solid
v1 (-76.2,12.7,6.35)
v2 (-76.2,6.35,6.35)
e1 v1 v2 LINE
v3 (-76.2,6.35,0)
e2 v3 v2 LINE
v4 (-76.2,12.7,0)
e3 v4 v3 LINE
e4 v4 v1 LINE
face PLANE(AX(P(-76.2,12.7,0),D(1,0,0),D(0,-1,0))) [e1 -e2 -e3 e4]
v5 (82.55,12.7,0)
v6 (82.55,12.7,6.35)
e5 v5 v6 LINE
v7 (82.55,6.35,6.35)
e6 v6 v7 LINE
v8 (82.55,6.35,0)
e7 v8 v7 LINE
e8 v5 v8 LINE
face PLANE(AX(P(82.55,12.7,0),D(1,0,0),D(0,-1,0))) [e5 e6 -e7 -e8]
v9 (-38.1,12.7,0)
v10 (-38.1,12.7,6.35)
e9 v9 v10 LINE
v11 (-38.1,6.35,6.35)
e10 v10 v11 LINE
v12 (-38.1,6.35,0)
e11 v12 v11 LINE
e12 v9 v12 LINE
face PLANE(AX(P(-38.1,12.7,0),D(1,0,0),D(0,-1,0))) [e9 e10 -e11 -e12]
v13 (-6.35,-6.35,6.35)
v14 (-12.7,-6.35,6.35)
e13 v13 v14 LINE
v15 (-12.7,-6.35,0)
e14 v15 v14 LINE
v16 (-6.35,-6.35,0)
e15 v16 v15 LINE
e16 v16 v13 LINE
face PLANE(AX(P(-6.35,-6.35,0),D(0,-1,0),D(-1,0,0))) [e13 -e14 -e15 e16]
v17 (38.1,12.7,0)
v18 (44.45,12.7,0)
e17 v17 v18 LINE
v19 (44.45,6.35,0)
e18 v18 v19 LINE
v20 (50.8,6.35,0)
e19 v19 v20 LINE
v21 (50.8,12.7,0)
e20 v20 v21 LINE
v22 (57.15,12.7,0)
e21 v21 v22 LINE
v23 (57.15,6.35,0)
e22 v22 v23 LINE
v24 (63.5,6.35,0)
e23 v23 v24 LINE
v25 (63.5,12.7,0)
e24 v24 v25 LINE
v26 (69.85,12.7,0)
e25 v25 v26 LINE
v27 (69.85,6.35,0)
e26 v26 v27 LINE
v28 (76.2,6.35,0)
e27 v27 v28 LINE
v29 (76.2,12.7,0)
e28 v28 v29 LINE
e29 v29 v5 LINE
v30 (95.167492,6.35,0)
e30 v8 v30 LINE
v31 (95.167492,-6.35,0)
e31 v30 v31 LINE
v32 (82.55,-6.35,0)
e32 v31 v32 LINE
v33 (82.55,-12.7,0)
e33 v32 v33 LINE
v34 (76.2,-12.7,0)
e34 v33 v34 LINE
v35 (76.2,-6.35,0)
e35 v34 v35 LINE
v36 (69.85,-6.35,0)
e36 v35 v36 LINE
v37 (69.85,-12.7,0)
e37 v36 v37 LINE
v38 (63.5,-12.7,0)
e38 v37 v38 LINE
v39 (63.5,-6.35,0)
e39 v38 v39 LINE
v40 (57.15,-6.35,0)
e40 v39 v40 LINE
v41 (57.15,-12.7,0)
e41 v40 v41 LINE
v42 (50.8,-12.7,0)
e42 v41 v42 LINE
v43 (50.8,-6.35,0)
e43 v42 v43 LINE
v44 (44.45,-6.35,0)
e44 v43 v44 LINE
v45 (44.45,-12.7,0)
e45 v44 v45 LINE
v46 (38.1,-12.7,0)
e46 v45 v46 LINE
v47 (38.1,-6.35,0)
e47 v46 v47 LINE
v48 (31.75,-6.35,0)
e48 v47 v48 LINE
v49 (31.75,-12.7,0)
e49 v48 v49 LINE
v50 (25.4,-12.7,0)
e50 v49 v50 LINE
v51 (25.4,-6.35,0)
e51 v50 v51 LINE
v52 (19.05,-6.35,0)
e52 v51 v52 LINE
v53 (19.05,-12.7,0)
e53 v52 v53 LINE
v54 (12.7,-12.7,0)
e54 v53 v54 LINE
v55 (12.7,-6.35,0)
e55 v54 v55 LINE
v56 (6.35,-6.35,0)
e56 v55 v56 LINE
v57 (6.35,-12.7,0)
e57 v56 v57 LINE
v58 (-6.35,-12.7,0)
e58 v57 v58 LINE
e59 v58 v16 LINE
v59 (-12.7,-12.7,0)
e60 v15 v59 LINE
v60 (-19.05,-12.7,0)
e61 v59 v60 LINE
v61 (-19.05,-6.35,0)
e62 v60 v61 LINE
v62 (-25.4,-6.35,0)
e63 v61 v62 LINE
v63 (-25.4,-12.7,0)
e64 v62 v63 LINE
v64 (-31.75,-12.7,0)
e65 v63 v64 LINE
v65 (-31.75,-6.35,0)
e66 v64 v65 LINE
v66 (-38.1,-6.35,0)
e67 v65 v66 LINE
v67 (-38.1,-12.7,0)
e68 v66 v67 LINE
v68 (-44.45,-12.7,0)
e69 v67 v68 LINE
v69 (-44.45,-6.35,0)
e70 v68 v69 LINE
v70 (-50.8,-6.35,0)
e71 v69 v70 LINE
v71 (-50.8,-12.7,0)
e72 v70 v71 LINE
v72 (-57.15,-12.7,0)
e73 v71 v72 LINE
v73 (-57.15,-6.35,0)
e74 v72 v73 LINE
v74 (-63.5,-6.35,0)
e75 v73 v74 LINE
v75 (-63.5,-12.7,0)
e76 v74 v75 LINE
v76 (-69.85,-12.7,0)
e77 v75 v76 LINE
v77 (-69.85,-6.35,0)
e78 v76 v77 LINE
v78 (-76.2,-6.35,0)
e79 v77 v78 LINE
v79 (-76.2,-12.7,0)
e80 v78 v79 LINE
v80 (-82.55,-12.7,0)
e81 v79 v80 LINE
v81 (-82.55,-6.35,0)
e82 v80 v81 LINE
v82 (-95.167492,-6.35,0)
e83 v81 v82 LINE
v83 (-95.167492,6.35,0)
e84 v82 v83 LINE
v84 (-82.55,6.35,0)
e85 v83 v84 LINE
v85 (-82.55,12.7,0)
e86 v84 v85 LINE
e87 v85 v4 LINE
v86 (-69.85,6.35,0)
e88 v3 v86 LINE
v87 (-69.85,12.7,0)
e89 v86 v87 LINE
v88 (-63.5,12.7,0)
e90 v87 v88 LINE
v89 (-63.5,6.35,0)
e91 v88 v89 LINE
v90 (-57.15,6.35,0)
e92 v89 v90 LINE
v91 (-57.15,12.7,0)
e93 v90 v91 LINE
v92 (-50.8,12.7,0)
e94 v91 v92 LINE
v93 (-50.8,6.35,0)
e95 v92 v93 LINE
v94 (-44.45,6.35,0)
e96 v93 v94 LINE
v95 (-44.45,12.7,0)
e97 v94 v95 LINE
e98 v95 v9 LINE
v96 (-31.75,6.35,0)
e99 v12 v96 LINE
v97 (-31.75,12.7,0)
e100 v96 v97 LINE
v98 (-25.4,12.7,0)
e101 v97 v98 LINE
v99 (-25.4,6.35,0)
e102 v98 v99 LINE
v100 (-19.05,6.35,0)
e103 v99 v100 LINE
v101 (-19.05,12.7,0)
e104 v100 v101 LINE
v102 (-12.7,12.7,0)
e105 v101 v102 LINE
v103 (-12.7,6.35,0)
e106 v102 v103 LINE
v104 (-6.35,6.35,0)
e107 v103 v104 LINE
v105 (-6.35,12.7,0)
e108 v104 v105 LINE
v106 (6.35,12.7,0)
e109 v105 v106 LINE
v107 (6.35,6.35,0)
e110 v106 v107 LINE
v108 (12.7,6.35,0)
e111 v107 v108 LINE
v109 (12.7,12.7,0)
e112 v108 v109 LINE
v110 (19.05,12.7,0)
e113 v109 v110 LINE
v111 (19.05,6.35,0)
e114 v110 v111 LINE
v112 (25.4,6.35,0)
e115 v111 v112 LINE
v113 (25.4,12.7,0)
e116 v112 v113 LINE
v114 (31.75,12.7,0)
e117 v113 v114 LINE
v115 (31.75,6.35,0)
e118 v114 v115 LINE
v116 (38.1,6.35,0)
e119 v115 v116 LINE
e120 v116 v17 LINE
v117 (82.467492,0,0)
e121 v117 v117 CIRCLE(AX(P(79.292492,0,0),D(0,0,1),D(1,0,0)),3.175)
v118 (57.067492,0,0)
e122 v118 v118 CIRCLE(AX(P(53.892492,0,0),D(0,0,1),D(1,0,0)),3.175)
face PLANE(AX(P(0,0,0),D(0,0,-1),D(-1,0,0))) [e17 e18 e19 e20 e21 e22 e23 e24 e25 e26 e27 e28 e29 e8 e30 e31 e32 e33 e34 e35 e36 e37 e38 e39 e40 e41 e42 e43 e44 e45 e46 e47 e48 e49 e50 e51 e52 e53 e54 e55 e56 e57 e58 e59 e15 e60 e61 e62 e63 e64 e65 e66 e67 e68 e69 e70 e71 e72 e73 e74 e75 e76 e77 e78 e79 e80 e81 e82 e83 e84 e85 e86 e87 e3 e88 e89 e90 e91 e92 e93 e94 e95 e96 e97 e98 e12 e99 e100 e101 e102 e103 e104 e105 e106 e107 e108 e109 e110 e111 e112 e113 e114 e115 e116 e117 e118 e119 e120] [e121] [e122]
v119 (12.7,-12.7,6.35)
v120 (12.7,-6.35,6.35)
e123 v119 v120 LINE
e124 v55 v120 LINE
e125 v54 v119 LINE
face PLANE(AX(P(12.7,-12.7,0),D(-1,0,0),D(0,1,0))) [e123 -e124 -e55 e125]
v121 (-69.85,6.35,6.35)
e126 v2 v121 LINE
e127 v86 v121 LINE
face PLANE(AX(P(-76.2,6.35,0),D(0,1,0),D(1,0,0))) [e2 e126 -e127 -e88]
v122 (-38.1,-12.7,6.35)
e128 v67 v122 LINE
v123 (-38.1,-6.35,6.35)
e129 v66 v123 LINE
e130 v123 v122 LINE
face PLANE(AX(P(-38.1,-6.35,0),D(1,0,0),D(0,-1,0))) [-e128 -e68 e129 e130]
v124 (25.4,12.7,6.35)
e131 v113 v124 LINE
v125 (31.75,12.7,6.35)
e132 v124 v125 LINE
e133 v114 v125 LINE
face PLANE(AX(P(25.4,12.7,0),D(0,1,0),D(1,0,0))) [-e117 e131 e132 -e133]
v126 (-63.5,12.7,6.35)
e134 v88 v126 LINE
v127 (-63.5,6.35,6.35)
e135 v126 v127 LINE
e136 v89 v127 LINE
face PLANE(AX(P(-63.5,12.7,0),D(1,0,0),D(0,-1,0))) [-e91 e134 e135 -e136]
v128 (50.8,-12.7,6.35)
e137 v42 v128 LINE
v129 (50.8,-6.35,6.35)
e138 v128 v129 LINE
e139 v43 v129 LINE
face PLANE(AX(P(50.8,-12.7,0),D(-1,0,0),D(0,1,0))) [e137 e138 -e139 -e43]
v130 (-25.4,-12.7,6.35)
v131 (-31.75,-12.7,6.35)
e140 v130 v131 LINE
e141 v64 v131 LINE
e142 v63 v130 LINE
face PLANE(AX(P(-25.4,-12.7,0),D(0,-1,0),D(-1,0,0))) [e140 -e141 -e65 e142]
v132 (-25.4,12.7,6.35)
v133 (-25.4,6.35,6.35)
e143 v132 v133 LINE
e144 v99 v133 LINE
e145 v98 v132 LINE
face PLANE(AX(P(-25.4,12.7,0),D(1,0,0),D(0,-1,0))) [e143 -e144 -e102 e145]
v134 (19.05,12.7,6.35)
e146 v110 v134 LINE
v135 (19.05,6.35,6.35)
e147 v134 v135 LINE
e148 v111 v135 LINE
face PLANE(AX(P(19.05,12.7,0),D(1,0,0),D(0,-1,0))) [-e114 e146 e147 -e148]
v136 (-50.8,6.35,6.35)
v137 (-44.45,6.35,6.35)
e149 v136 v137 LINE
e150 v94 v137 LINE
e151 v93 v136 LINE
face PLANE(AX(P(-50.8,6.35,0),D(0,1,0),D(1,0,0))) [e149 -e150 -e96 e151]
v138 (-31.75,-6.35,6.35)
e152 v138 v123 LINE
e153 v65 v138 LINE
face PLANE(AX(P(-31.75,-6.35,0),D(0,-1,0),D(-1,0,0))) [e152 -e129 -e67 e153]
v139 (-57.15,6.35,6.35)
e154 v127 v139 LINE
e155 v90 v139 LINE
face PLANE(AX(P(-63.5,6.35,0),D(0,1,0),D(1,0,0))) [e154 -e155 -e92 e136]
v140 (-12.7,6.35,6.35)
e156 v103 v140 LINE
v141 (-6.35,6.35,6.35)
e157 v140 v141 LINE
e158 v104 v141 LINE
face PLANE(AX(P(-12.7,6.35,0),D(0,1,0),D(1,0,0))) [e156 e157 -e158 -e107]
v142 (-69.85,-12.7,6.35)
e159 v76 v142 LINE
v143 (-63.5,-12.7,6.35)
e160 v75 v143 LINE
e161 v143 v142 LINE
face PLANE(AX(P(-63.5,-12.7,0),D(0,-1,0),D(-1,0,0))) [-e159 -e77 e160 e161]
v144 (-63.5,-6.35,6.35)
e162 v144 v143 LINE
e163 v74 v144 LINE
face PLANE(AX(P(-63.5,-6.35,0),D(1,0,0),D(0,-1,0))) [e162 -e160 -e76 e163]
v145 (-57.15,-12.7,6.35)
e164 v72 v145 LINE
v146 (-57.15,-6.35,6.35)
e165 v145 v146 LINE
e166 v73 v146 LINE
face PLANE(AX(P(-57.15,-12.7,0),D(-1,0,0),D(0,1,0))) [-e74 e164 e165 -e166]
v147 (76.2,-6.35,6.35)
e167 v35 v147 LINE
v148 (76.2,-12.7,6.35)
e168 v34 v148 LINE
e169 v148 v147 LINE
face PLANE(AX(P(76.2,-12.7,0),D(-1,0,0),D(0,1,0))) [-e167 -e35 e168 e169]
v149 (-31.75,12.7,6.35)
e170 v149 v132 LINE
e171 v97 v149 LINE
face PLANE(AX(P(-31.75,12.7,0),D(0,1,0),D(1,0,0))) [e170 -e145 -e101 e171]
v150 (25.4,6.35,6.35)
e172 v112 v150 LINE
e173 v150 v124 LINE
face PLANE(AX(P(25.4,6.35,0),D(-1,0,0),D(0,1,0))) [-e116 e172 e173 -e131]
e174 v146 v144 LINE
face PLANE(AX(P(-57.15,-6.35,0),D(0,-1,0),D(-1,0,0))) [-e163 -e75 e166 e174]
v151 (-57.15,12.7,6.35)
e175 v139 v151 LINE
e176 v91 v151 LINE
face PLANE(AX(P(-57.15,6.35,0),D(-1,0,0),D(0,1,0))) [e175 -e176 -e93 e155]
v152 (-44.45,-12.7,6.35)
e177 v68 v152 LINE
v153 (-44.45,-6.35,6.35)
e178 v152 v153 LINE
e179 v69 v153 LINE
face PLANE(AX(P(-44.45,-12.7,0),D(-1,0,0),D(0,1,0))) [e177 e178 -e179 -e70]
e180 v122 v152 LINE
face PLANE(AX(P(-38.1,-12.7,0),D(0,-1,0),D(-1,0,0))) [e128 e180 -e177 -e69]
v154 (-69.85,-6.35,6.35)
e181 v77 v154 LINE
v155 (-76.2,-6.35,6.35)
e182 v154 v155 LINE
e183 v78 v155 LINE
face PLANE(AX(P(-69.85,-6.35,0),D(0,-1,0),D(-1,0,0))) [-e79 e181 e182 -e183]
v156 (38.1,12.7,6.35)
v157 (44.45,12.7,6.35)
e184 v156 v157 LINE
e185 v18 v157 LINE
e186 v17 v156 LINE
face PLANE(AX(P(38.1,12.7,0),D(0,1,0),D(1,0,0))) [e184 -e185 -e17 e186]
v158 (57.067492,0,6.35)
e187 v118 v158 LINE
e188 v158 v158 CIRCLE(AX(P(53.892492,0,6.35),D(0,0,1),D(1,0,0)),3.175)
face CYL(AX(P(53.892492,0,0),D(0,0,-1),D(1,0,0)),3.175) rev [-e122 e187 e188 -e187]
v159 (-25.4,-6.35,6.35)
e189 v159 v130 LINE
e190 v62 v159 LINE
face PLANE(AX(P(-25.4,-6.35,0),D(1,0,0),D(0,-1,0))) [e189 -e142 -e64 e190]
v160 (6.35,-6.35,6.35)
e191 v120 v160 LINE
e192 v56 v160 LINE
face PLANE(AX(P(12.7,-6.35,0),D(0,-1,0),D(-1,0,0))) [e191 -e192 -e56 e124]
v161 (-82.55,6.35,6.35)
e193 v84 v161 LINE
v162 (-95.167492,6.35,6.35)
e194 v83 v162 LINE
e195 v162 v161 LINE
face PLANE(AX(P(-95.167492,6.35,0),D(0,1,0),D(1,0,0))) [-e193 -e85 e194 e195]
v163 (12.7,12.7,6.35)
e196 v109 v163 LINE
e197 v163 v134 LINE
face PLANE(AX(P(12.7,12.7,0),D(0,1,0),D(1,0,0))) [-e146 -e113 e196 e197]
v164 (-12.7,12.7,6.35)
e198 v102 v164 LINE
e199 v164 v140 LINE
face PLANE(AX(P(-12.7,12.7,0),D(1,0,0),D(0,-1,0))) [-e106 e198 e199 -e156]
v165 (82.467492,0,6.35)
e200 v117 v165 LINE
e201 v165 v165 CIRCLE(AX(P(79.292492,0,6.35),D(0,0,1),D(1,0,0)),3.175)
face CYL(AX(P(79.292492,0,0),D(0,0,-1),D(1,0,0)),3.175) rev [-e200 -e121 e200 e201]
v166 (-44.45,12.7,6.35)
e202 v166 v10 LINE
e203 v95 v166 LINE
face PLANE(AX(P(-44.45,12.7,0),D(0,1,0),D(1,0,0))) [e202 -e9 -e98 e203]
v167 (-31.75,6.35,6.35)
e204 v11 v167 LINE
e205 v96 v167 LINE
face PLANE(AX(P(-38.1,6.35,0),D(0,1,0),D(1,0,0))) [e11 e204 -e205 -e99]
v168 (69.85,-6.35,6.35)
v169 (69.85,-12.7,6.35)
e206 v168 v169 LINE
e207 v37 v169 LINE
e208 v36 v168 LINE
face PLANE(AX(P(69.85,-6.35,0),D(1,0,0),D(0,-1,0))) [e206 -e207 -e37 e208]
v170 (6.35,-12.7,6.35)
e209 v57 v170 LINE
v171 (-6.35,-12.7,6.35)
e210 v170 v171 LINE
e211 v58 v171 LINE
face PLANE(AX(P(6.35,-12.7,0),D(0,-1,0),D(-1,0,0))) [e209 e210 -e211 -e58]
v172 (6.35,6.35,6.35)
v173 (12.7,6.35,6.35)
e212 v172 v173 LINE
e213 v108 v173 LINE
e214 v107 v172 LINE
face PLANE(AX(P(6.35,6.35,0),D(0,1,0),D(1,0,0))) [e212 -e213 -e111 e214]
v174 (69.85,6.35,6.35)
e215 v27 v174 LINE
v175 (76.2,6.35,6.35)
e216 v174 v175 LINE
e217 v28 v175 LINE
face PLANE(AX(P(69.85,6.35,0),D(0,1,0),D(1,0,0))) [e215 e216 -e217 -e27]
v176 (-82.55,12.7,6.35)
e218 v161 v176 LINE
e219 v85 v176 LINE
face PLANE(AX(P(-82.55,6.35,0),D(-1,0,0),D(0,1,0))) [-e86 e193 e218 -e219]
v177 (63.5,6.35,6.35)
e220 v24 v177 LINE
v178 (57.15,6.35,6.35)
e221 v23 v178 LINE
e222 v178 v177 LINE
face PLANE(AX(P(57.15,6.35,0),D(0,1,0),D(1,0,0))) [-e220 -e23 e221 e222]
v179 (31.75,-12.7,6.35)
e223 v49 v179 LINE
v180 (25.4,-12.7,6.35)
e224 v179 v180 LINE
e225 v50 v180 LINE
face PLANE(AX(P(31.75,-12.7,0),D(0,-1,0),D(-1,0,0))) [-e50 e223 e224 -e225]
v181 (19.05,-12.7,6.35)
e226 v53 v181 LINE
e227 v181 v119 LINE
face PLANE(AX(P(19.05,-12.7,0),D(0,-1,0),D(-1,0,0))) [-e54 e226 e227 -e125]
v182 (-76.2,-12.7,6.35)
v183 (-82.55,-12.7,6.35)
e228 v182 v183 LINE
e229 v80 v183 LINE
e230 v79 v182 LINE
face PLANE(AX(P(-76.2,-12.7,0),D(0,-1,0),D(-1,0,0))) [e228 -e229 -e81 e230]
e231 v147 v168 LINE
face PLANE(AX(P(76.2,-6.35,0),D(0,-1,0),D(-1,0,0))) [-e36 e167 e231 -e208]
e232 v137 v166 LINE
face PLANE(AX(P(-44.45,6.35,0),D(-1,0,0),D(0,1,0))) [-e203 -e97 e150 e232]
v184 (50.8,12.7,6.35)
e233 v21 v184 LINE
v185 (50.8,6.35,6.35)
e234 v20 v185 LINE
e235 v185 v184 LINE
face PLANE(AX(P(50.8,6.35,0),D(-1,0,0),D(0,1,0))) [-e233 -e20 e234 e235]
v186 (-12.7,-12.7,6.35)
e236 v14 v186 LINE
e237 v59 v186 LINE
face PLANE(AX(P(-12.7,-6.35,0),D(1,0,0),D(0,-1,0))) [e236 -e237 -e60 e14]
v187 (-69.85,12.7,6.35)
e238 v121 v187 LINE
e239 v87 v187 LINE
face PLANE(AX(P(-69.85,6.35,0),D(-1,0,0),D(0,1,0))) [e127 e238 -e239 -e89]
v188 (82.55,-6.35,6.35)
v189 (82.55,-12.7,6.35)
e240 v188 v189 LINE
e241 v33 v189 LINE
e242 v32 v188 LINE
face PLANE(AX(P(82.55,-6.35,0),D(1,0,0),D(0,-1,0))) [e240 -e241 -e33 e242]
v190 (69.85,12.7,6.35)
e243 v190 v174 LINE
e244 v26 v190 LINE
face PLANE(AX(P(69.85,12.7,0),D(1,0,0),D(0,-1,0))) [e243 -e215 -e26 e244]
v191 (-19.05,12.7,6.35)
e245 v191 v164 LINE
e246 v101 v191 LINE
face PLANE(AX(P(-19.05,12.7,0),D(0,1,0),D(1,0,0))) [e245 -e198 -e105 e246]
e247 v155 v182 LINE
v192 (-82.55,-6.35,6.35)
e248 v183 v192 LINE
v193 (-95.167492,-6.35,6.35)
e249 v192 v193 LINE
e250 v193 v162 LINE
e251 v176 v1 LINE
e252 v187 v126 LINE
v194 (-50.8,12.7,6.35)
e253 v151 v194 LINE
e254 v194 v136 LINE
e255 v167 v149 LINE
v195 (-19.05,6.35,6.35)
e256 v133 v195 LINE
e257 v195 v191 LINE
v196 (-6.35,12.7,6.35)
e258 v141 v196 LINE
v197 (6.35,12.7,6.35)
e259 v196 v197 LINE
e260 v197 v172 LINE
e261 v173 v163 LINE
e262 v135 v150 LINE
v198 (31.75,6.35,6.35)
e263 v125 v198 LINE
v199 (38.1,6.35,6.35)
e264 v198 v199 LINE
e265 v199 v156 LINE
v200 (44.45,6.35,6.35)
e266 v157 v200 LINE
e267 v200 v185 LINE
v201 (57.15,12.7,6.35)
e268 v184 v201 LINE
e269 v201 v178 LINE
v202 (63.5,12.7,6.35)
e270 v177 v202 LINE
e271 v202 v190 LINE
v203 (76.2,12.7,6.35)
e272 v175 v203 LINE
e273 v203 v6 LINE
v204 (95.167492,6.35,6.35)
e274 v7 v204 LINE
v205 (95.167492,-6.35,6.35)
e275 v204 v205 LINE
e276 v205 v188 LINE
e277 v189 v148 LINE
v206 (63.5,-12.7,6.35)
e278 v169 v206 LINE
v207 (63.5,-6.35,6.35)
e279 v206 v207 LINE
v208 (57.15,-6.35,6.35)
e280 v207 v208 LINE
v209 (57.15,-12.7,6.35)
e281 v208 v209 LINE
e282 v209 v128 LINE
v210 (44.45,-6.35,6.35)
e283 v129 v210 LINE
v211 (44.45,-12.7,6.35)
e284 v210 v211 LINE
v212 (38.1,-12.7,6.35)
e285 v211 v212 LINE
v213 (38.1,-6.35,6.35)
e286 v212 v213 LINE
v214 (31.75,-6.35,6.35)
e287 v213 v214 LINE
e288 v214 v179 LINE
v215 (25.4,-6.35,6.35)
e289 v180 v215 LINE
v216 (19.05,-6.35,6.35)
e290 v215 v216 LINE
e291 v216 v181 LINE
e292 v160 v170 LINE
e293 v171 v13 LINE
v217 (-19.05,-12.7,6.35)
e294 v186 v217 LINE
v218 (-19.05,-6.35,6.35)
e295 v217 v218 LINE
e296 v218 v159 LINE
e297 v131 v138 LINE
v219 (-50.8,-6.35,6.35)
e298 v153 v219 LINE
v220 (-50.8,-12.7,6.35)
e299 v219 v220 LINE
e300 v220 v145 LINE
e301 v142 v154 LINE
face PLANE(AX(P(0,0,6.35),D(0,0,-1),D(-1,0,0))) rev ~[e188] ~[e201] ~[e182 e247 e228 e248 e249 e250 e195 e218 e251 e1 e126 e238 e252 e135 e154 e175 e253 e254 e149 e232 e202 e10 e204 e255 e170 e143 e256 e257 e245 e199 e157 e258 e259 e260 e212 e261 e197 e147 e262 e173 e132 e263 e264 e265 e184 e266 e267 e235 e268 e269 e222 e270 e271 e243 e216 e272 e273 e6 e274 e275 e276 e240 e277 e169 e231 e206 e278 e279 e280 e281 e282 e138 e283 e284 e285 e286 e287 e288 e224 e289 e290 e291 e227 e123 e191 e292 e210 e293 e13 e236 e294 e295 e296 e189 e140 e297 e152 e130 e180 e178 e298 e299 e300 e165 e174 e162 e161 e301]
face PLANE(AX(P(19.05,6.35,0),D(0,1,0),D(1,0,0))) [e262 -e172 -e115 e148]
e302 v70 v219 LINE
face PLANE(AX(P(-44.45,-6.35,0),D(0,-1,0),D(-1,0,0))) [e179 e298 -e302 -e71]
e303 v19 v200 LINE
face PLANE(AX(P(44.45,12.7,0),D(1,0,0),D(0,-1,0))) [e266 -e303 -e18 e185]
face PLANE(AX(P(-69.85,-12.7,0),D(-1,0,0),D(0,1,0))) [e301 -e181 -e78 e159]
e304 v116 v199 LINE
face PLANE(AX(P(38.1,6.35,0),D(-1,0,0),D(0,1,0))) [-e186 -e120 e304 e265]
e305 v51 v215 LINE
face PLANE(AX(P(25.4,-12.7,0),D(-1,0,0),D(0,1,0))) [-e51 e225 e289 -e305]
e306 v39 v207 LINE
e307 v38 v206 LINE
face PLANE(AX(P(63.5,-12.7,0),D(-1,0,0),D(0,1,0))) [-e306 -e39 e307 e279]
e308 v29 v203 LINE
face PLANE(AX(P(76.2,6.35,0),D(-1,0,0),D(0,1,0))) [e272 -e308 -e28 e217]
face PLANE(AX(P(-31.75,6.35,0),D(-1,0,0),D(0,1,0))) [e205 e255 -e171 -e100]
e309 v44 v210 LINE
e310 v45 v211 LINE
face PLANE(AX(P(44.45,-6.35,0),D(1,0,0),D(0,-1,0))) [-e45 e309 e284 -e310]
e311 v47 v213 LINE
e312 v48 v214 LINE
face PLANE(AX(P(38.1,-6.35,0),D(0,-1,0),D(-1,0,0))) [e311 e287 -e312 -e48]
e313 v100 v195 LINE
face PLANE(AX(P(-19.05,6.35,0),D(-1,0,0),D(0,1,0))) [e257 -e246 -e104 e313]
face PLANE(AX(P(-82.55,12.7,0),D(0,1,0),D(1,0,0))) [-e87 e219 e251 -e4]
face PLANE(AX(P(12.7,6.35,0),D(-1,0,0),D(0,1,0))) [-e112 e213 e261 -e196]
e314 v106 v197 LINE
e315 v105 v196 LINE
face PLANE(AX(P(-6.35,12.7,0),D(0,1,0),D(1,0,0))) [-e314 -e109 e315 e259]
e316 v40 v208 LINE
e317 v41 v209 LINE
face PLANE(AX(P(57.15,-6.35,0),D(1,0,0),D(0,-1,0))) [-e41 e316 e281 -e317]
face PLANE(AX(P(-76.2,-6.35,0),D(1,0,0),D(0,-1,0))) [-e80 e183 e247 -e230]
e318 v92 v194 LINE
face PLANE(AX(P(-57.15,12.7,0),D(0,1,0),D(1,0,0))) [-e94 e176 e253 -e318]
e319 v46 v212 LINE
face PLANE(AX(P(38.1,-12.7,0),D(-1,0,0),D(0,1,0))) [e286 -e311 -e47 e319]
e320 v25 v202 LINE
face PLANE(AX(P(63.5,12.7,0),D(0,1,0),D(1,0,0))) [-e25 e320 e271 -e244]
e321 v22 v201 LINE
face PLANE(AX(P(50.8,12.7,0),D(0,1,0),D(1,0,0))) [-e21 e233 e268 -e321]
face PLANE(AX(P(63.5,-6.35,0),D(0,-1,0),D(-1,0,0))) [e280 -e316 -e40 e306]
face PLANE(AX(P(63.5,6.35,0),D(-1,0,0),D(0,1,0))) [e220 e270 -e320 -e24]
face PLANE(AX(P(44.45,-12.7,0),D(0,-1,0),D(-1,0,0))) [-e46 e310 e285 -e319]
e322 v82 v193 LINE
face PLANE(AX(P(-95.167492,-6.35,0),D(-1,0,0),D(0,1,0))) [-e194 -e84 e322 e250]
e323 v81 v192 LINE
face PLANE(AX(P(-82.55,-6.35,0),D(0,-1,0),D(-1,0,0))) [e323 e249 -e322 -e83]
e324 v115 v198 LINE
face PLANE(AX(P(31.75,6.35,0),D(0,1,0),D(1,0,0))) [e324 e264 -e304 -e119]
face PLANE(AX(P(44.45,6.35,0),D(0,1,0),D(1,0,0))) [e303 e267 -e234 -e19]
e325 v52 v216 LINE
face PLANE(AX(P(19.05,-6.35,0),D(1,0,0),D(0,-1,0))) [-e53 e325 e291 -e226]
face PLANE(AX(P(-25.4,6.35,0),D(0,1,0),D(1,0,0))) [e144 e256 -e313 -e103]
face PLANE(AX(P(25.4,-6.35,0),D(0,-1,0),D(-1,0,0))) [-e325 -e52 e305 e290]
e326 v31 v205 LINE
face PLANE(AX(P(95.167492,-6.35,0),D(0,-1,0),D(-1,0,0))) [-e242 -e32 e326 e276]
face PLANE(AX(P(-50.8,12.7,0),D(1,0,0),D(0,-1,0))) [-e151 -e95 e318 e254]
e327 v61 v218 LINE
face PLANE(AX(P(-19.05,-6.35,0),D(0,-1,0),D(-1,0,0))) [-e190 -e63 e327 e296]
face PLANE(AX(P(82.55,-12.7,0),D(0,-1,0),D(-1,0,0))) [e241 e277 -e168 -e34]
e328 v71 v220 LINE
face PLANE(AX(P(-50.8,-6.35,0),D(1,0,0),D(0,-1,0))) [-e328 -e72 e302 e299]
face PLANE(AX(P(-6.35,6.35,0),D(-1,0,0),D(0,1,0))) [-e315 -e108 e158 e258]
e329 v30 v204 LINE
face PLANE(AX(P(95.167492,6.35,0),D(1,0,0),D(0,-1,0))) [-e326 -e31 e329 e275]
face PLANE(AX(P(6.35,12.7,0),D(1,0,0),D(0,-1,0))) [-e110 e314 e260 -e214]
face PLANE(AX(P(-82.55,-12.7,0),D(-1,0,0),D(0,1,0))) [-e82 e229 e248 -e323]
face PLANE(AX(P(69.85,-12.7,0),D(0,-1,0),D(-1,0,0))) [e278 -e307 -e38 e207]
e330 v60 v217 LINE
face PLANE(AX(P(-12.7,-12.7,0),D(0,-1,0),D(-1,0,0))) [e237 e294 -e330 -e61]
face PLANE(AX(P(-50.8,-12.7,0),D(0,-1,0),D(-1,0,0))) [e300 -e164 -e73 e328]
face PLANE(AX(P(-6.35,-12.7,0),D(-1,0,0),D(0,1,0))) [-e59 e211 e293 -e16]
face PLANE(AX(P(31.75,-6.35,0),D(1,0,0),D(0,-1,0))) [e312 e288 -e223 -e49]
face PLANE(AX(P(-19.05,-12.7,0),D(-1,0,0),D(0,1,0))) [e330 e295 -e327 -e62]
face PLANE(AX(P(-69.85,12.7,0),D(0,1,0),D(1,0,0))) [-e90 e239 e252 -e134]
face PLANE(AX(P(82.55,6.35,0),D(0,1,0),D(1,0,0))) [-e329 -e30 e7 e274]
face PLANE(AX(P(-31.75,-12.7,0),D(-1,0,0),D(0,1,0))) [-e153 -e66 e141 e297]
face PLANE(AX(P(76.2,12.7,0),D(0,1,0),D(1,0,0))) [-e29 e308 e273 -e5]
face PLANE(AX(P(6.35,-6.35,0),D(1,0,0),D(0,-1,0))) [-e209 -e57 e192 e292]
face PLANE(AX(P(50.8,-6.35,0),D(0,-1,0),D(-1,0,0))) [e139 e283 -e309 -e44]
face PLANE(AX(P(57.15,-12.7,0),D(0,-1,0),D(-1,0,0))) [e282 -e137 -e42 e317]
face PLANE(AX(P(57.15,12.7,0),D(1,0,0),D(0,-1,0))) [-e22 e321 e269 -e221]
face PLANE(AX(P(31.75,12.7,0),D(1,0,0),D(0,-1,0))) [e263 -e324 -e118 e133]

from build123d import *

# Parameters (mm, degrees)
SKETCH1_R           = 3.175
BOSS_EXTRUDE1_DEPTH = 6.35


with BuildPart() as part:
    # Sketch1 → Boss-Extrude1 (new body)
    with BuildSketch(Plane.XY):
        Polygon((-82.55, 12.7), (-76.2, 12.7), (-76.2, 6.35), (-69.85, 6.35), (-69.85, 12.7), (-63.5, 12.7), (-63.5, 6.35), (-57.15, 6.35), (-57.15, 12.7), (-50.8, 12.7), (-50.8, 6.35), (-44.45, 6.35), (-44.45, 12.7), (-38.1, 12.7), (-38.1, 6.35), (-31.75, 6.35), (-31.75, 12.7), (-25.4, 12.7), (-25.4, 6.35), (-19.05, 6.35), (-19.05, 12.7), (-12.7, 12.7), (-12.7, 6.35), (-6.35, 6.35), (-6.35, 12.7), (6.35, 12.7), (6.35, 6.35), (12.7, 6.35), (12.7, 12.7), (19.05, 12.7), (19.05, 6.35), (25.4, 6.35), (25.4, 12.7), (31.75, 12.7), (31.75, 6.35), (38.1, 6.35), (38.1, 12.7), (44.45, 12.7), (44.45, 6.35), (50.8, 6.35), (50.8, 12.7), (57.15, 12.7), (57.15, 6.35), (63.5, 6.35), (63.5, 12.7), (69.85, 12.7), (69.85, 6.35), (76.2, 6.35), (76.2, 12.7), (82.55, 12.7), (82.55, 6.35), (95.167491893, 6.35), (95.167491893, -6.35), (82.55, -6.35), (82.55, -12.7), (76.2, -12.7), (76.2, -6.35), (69.85, -6.35), (69.85, -12.7), (63.5, -12.7), (63.5, -6.35), (57.15, -6.35), (57.15, -12.7), (50.8, -12.7), (50.8, -6.35), (44.45, -6.35), (44.45, -12.7), (38.1, -12.7), (38.1, -6.35), (31.75, -6.35), (31.75, -12.7), (25.4, -12.7), (25.4, -6.35), (19.05, -6.35), (19.05, -12.7), (12.7, -12.7), (12.7, -6.35), (6.35, -6.35), (6.35, -12.7), (-6.35, -12.7), (-6.35, -6.35), (-12.7, -6.35), (-12.7, -12.7), (-19.05, -12.7), (-19.05, -6.35), (-25.4, -6.35), (-25.4, -12.7), (-31.75, -12.7), (-31.75, -6.35), (-38.1, -6.35), (-38.1, -12.7), (-44.45, -12.7), (-44.45, -6.35), (-50.8, -6.35), (-50.8, -12.7), (-57.15, -12.7), (-57.15, -6.35), (-63.5, -6.35), (-63.5, -12.7), (-69.85, -12.7), (-69.85, -6.35), (-76.2, -6.35), (-76.2, -12.7), (-82.55, -12.7), (-82.55, -6.35), (-95.167491893, -6.35), (-95.167491893, 6.35), (-82.55, 6.35), align=None)
        with Locations((79.292491893, 0)):
            Circle(SKETCH1_R, mode=Mode.SUBTRACT)
        with Locations((53.892491893, 0)):
            Circle(SKETCH1_R, mode=Mode.SUBTRACT)
    extrude(amount=BOSS_EXTRUDE1_DEPTH)


solid = part.part
